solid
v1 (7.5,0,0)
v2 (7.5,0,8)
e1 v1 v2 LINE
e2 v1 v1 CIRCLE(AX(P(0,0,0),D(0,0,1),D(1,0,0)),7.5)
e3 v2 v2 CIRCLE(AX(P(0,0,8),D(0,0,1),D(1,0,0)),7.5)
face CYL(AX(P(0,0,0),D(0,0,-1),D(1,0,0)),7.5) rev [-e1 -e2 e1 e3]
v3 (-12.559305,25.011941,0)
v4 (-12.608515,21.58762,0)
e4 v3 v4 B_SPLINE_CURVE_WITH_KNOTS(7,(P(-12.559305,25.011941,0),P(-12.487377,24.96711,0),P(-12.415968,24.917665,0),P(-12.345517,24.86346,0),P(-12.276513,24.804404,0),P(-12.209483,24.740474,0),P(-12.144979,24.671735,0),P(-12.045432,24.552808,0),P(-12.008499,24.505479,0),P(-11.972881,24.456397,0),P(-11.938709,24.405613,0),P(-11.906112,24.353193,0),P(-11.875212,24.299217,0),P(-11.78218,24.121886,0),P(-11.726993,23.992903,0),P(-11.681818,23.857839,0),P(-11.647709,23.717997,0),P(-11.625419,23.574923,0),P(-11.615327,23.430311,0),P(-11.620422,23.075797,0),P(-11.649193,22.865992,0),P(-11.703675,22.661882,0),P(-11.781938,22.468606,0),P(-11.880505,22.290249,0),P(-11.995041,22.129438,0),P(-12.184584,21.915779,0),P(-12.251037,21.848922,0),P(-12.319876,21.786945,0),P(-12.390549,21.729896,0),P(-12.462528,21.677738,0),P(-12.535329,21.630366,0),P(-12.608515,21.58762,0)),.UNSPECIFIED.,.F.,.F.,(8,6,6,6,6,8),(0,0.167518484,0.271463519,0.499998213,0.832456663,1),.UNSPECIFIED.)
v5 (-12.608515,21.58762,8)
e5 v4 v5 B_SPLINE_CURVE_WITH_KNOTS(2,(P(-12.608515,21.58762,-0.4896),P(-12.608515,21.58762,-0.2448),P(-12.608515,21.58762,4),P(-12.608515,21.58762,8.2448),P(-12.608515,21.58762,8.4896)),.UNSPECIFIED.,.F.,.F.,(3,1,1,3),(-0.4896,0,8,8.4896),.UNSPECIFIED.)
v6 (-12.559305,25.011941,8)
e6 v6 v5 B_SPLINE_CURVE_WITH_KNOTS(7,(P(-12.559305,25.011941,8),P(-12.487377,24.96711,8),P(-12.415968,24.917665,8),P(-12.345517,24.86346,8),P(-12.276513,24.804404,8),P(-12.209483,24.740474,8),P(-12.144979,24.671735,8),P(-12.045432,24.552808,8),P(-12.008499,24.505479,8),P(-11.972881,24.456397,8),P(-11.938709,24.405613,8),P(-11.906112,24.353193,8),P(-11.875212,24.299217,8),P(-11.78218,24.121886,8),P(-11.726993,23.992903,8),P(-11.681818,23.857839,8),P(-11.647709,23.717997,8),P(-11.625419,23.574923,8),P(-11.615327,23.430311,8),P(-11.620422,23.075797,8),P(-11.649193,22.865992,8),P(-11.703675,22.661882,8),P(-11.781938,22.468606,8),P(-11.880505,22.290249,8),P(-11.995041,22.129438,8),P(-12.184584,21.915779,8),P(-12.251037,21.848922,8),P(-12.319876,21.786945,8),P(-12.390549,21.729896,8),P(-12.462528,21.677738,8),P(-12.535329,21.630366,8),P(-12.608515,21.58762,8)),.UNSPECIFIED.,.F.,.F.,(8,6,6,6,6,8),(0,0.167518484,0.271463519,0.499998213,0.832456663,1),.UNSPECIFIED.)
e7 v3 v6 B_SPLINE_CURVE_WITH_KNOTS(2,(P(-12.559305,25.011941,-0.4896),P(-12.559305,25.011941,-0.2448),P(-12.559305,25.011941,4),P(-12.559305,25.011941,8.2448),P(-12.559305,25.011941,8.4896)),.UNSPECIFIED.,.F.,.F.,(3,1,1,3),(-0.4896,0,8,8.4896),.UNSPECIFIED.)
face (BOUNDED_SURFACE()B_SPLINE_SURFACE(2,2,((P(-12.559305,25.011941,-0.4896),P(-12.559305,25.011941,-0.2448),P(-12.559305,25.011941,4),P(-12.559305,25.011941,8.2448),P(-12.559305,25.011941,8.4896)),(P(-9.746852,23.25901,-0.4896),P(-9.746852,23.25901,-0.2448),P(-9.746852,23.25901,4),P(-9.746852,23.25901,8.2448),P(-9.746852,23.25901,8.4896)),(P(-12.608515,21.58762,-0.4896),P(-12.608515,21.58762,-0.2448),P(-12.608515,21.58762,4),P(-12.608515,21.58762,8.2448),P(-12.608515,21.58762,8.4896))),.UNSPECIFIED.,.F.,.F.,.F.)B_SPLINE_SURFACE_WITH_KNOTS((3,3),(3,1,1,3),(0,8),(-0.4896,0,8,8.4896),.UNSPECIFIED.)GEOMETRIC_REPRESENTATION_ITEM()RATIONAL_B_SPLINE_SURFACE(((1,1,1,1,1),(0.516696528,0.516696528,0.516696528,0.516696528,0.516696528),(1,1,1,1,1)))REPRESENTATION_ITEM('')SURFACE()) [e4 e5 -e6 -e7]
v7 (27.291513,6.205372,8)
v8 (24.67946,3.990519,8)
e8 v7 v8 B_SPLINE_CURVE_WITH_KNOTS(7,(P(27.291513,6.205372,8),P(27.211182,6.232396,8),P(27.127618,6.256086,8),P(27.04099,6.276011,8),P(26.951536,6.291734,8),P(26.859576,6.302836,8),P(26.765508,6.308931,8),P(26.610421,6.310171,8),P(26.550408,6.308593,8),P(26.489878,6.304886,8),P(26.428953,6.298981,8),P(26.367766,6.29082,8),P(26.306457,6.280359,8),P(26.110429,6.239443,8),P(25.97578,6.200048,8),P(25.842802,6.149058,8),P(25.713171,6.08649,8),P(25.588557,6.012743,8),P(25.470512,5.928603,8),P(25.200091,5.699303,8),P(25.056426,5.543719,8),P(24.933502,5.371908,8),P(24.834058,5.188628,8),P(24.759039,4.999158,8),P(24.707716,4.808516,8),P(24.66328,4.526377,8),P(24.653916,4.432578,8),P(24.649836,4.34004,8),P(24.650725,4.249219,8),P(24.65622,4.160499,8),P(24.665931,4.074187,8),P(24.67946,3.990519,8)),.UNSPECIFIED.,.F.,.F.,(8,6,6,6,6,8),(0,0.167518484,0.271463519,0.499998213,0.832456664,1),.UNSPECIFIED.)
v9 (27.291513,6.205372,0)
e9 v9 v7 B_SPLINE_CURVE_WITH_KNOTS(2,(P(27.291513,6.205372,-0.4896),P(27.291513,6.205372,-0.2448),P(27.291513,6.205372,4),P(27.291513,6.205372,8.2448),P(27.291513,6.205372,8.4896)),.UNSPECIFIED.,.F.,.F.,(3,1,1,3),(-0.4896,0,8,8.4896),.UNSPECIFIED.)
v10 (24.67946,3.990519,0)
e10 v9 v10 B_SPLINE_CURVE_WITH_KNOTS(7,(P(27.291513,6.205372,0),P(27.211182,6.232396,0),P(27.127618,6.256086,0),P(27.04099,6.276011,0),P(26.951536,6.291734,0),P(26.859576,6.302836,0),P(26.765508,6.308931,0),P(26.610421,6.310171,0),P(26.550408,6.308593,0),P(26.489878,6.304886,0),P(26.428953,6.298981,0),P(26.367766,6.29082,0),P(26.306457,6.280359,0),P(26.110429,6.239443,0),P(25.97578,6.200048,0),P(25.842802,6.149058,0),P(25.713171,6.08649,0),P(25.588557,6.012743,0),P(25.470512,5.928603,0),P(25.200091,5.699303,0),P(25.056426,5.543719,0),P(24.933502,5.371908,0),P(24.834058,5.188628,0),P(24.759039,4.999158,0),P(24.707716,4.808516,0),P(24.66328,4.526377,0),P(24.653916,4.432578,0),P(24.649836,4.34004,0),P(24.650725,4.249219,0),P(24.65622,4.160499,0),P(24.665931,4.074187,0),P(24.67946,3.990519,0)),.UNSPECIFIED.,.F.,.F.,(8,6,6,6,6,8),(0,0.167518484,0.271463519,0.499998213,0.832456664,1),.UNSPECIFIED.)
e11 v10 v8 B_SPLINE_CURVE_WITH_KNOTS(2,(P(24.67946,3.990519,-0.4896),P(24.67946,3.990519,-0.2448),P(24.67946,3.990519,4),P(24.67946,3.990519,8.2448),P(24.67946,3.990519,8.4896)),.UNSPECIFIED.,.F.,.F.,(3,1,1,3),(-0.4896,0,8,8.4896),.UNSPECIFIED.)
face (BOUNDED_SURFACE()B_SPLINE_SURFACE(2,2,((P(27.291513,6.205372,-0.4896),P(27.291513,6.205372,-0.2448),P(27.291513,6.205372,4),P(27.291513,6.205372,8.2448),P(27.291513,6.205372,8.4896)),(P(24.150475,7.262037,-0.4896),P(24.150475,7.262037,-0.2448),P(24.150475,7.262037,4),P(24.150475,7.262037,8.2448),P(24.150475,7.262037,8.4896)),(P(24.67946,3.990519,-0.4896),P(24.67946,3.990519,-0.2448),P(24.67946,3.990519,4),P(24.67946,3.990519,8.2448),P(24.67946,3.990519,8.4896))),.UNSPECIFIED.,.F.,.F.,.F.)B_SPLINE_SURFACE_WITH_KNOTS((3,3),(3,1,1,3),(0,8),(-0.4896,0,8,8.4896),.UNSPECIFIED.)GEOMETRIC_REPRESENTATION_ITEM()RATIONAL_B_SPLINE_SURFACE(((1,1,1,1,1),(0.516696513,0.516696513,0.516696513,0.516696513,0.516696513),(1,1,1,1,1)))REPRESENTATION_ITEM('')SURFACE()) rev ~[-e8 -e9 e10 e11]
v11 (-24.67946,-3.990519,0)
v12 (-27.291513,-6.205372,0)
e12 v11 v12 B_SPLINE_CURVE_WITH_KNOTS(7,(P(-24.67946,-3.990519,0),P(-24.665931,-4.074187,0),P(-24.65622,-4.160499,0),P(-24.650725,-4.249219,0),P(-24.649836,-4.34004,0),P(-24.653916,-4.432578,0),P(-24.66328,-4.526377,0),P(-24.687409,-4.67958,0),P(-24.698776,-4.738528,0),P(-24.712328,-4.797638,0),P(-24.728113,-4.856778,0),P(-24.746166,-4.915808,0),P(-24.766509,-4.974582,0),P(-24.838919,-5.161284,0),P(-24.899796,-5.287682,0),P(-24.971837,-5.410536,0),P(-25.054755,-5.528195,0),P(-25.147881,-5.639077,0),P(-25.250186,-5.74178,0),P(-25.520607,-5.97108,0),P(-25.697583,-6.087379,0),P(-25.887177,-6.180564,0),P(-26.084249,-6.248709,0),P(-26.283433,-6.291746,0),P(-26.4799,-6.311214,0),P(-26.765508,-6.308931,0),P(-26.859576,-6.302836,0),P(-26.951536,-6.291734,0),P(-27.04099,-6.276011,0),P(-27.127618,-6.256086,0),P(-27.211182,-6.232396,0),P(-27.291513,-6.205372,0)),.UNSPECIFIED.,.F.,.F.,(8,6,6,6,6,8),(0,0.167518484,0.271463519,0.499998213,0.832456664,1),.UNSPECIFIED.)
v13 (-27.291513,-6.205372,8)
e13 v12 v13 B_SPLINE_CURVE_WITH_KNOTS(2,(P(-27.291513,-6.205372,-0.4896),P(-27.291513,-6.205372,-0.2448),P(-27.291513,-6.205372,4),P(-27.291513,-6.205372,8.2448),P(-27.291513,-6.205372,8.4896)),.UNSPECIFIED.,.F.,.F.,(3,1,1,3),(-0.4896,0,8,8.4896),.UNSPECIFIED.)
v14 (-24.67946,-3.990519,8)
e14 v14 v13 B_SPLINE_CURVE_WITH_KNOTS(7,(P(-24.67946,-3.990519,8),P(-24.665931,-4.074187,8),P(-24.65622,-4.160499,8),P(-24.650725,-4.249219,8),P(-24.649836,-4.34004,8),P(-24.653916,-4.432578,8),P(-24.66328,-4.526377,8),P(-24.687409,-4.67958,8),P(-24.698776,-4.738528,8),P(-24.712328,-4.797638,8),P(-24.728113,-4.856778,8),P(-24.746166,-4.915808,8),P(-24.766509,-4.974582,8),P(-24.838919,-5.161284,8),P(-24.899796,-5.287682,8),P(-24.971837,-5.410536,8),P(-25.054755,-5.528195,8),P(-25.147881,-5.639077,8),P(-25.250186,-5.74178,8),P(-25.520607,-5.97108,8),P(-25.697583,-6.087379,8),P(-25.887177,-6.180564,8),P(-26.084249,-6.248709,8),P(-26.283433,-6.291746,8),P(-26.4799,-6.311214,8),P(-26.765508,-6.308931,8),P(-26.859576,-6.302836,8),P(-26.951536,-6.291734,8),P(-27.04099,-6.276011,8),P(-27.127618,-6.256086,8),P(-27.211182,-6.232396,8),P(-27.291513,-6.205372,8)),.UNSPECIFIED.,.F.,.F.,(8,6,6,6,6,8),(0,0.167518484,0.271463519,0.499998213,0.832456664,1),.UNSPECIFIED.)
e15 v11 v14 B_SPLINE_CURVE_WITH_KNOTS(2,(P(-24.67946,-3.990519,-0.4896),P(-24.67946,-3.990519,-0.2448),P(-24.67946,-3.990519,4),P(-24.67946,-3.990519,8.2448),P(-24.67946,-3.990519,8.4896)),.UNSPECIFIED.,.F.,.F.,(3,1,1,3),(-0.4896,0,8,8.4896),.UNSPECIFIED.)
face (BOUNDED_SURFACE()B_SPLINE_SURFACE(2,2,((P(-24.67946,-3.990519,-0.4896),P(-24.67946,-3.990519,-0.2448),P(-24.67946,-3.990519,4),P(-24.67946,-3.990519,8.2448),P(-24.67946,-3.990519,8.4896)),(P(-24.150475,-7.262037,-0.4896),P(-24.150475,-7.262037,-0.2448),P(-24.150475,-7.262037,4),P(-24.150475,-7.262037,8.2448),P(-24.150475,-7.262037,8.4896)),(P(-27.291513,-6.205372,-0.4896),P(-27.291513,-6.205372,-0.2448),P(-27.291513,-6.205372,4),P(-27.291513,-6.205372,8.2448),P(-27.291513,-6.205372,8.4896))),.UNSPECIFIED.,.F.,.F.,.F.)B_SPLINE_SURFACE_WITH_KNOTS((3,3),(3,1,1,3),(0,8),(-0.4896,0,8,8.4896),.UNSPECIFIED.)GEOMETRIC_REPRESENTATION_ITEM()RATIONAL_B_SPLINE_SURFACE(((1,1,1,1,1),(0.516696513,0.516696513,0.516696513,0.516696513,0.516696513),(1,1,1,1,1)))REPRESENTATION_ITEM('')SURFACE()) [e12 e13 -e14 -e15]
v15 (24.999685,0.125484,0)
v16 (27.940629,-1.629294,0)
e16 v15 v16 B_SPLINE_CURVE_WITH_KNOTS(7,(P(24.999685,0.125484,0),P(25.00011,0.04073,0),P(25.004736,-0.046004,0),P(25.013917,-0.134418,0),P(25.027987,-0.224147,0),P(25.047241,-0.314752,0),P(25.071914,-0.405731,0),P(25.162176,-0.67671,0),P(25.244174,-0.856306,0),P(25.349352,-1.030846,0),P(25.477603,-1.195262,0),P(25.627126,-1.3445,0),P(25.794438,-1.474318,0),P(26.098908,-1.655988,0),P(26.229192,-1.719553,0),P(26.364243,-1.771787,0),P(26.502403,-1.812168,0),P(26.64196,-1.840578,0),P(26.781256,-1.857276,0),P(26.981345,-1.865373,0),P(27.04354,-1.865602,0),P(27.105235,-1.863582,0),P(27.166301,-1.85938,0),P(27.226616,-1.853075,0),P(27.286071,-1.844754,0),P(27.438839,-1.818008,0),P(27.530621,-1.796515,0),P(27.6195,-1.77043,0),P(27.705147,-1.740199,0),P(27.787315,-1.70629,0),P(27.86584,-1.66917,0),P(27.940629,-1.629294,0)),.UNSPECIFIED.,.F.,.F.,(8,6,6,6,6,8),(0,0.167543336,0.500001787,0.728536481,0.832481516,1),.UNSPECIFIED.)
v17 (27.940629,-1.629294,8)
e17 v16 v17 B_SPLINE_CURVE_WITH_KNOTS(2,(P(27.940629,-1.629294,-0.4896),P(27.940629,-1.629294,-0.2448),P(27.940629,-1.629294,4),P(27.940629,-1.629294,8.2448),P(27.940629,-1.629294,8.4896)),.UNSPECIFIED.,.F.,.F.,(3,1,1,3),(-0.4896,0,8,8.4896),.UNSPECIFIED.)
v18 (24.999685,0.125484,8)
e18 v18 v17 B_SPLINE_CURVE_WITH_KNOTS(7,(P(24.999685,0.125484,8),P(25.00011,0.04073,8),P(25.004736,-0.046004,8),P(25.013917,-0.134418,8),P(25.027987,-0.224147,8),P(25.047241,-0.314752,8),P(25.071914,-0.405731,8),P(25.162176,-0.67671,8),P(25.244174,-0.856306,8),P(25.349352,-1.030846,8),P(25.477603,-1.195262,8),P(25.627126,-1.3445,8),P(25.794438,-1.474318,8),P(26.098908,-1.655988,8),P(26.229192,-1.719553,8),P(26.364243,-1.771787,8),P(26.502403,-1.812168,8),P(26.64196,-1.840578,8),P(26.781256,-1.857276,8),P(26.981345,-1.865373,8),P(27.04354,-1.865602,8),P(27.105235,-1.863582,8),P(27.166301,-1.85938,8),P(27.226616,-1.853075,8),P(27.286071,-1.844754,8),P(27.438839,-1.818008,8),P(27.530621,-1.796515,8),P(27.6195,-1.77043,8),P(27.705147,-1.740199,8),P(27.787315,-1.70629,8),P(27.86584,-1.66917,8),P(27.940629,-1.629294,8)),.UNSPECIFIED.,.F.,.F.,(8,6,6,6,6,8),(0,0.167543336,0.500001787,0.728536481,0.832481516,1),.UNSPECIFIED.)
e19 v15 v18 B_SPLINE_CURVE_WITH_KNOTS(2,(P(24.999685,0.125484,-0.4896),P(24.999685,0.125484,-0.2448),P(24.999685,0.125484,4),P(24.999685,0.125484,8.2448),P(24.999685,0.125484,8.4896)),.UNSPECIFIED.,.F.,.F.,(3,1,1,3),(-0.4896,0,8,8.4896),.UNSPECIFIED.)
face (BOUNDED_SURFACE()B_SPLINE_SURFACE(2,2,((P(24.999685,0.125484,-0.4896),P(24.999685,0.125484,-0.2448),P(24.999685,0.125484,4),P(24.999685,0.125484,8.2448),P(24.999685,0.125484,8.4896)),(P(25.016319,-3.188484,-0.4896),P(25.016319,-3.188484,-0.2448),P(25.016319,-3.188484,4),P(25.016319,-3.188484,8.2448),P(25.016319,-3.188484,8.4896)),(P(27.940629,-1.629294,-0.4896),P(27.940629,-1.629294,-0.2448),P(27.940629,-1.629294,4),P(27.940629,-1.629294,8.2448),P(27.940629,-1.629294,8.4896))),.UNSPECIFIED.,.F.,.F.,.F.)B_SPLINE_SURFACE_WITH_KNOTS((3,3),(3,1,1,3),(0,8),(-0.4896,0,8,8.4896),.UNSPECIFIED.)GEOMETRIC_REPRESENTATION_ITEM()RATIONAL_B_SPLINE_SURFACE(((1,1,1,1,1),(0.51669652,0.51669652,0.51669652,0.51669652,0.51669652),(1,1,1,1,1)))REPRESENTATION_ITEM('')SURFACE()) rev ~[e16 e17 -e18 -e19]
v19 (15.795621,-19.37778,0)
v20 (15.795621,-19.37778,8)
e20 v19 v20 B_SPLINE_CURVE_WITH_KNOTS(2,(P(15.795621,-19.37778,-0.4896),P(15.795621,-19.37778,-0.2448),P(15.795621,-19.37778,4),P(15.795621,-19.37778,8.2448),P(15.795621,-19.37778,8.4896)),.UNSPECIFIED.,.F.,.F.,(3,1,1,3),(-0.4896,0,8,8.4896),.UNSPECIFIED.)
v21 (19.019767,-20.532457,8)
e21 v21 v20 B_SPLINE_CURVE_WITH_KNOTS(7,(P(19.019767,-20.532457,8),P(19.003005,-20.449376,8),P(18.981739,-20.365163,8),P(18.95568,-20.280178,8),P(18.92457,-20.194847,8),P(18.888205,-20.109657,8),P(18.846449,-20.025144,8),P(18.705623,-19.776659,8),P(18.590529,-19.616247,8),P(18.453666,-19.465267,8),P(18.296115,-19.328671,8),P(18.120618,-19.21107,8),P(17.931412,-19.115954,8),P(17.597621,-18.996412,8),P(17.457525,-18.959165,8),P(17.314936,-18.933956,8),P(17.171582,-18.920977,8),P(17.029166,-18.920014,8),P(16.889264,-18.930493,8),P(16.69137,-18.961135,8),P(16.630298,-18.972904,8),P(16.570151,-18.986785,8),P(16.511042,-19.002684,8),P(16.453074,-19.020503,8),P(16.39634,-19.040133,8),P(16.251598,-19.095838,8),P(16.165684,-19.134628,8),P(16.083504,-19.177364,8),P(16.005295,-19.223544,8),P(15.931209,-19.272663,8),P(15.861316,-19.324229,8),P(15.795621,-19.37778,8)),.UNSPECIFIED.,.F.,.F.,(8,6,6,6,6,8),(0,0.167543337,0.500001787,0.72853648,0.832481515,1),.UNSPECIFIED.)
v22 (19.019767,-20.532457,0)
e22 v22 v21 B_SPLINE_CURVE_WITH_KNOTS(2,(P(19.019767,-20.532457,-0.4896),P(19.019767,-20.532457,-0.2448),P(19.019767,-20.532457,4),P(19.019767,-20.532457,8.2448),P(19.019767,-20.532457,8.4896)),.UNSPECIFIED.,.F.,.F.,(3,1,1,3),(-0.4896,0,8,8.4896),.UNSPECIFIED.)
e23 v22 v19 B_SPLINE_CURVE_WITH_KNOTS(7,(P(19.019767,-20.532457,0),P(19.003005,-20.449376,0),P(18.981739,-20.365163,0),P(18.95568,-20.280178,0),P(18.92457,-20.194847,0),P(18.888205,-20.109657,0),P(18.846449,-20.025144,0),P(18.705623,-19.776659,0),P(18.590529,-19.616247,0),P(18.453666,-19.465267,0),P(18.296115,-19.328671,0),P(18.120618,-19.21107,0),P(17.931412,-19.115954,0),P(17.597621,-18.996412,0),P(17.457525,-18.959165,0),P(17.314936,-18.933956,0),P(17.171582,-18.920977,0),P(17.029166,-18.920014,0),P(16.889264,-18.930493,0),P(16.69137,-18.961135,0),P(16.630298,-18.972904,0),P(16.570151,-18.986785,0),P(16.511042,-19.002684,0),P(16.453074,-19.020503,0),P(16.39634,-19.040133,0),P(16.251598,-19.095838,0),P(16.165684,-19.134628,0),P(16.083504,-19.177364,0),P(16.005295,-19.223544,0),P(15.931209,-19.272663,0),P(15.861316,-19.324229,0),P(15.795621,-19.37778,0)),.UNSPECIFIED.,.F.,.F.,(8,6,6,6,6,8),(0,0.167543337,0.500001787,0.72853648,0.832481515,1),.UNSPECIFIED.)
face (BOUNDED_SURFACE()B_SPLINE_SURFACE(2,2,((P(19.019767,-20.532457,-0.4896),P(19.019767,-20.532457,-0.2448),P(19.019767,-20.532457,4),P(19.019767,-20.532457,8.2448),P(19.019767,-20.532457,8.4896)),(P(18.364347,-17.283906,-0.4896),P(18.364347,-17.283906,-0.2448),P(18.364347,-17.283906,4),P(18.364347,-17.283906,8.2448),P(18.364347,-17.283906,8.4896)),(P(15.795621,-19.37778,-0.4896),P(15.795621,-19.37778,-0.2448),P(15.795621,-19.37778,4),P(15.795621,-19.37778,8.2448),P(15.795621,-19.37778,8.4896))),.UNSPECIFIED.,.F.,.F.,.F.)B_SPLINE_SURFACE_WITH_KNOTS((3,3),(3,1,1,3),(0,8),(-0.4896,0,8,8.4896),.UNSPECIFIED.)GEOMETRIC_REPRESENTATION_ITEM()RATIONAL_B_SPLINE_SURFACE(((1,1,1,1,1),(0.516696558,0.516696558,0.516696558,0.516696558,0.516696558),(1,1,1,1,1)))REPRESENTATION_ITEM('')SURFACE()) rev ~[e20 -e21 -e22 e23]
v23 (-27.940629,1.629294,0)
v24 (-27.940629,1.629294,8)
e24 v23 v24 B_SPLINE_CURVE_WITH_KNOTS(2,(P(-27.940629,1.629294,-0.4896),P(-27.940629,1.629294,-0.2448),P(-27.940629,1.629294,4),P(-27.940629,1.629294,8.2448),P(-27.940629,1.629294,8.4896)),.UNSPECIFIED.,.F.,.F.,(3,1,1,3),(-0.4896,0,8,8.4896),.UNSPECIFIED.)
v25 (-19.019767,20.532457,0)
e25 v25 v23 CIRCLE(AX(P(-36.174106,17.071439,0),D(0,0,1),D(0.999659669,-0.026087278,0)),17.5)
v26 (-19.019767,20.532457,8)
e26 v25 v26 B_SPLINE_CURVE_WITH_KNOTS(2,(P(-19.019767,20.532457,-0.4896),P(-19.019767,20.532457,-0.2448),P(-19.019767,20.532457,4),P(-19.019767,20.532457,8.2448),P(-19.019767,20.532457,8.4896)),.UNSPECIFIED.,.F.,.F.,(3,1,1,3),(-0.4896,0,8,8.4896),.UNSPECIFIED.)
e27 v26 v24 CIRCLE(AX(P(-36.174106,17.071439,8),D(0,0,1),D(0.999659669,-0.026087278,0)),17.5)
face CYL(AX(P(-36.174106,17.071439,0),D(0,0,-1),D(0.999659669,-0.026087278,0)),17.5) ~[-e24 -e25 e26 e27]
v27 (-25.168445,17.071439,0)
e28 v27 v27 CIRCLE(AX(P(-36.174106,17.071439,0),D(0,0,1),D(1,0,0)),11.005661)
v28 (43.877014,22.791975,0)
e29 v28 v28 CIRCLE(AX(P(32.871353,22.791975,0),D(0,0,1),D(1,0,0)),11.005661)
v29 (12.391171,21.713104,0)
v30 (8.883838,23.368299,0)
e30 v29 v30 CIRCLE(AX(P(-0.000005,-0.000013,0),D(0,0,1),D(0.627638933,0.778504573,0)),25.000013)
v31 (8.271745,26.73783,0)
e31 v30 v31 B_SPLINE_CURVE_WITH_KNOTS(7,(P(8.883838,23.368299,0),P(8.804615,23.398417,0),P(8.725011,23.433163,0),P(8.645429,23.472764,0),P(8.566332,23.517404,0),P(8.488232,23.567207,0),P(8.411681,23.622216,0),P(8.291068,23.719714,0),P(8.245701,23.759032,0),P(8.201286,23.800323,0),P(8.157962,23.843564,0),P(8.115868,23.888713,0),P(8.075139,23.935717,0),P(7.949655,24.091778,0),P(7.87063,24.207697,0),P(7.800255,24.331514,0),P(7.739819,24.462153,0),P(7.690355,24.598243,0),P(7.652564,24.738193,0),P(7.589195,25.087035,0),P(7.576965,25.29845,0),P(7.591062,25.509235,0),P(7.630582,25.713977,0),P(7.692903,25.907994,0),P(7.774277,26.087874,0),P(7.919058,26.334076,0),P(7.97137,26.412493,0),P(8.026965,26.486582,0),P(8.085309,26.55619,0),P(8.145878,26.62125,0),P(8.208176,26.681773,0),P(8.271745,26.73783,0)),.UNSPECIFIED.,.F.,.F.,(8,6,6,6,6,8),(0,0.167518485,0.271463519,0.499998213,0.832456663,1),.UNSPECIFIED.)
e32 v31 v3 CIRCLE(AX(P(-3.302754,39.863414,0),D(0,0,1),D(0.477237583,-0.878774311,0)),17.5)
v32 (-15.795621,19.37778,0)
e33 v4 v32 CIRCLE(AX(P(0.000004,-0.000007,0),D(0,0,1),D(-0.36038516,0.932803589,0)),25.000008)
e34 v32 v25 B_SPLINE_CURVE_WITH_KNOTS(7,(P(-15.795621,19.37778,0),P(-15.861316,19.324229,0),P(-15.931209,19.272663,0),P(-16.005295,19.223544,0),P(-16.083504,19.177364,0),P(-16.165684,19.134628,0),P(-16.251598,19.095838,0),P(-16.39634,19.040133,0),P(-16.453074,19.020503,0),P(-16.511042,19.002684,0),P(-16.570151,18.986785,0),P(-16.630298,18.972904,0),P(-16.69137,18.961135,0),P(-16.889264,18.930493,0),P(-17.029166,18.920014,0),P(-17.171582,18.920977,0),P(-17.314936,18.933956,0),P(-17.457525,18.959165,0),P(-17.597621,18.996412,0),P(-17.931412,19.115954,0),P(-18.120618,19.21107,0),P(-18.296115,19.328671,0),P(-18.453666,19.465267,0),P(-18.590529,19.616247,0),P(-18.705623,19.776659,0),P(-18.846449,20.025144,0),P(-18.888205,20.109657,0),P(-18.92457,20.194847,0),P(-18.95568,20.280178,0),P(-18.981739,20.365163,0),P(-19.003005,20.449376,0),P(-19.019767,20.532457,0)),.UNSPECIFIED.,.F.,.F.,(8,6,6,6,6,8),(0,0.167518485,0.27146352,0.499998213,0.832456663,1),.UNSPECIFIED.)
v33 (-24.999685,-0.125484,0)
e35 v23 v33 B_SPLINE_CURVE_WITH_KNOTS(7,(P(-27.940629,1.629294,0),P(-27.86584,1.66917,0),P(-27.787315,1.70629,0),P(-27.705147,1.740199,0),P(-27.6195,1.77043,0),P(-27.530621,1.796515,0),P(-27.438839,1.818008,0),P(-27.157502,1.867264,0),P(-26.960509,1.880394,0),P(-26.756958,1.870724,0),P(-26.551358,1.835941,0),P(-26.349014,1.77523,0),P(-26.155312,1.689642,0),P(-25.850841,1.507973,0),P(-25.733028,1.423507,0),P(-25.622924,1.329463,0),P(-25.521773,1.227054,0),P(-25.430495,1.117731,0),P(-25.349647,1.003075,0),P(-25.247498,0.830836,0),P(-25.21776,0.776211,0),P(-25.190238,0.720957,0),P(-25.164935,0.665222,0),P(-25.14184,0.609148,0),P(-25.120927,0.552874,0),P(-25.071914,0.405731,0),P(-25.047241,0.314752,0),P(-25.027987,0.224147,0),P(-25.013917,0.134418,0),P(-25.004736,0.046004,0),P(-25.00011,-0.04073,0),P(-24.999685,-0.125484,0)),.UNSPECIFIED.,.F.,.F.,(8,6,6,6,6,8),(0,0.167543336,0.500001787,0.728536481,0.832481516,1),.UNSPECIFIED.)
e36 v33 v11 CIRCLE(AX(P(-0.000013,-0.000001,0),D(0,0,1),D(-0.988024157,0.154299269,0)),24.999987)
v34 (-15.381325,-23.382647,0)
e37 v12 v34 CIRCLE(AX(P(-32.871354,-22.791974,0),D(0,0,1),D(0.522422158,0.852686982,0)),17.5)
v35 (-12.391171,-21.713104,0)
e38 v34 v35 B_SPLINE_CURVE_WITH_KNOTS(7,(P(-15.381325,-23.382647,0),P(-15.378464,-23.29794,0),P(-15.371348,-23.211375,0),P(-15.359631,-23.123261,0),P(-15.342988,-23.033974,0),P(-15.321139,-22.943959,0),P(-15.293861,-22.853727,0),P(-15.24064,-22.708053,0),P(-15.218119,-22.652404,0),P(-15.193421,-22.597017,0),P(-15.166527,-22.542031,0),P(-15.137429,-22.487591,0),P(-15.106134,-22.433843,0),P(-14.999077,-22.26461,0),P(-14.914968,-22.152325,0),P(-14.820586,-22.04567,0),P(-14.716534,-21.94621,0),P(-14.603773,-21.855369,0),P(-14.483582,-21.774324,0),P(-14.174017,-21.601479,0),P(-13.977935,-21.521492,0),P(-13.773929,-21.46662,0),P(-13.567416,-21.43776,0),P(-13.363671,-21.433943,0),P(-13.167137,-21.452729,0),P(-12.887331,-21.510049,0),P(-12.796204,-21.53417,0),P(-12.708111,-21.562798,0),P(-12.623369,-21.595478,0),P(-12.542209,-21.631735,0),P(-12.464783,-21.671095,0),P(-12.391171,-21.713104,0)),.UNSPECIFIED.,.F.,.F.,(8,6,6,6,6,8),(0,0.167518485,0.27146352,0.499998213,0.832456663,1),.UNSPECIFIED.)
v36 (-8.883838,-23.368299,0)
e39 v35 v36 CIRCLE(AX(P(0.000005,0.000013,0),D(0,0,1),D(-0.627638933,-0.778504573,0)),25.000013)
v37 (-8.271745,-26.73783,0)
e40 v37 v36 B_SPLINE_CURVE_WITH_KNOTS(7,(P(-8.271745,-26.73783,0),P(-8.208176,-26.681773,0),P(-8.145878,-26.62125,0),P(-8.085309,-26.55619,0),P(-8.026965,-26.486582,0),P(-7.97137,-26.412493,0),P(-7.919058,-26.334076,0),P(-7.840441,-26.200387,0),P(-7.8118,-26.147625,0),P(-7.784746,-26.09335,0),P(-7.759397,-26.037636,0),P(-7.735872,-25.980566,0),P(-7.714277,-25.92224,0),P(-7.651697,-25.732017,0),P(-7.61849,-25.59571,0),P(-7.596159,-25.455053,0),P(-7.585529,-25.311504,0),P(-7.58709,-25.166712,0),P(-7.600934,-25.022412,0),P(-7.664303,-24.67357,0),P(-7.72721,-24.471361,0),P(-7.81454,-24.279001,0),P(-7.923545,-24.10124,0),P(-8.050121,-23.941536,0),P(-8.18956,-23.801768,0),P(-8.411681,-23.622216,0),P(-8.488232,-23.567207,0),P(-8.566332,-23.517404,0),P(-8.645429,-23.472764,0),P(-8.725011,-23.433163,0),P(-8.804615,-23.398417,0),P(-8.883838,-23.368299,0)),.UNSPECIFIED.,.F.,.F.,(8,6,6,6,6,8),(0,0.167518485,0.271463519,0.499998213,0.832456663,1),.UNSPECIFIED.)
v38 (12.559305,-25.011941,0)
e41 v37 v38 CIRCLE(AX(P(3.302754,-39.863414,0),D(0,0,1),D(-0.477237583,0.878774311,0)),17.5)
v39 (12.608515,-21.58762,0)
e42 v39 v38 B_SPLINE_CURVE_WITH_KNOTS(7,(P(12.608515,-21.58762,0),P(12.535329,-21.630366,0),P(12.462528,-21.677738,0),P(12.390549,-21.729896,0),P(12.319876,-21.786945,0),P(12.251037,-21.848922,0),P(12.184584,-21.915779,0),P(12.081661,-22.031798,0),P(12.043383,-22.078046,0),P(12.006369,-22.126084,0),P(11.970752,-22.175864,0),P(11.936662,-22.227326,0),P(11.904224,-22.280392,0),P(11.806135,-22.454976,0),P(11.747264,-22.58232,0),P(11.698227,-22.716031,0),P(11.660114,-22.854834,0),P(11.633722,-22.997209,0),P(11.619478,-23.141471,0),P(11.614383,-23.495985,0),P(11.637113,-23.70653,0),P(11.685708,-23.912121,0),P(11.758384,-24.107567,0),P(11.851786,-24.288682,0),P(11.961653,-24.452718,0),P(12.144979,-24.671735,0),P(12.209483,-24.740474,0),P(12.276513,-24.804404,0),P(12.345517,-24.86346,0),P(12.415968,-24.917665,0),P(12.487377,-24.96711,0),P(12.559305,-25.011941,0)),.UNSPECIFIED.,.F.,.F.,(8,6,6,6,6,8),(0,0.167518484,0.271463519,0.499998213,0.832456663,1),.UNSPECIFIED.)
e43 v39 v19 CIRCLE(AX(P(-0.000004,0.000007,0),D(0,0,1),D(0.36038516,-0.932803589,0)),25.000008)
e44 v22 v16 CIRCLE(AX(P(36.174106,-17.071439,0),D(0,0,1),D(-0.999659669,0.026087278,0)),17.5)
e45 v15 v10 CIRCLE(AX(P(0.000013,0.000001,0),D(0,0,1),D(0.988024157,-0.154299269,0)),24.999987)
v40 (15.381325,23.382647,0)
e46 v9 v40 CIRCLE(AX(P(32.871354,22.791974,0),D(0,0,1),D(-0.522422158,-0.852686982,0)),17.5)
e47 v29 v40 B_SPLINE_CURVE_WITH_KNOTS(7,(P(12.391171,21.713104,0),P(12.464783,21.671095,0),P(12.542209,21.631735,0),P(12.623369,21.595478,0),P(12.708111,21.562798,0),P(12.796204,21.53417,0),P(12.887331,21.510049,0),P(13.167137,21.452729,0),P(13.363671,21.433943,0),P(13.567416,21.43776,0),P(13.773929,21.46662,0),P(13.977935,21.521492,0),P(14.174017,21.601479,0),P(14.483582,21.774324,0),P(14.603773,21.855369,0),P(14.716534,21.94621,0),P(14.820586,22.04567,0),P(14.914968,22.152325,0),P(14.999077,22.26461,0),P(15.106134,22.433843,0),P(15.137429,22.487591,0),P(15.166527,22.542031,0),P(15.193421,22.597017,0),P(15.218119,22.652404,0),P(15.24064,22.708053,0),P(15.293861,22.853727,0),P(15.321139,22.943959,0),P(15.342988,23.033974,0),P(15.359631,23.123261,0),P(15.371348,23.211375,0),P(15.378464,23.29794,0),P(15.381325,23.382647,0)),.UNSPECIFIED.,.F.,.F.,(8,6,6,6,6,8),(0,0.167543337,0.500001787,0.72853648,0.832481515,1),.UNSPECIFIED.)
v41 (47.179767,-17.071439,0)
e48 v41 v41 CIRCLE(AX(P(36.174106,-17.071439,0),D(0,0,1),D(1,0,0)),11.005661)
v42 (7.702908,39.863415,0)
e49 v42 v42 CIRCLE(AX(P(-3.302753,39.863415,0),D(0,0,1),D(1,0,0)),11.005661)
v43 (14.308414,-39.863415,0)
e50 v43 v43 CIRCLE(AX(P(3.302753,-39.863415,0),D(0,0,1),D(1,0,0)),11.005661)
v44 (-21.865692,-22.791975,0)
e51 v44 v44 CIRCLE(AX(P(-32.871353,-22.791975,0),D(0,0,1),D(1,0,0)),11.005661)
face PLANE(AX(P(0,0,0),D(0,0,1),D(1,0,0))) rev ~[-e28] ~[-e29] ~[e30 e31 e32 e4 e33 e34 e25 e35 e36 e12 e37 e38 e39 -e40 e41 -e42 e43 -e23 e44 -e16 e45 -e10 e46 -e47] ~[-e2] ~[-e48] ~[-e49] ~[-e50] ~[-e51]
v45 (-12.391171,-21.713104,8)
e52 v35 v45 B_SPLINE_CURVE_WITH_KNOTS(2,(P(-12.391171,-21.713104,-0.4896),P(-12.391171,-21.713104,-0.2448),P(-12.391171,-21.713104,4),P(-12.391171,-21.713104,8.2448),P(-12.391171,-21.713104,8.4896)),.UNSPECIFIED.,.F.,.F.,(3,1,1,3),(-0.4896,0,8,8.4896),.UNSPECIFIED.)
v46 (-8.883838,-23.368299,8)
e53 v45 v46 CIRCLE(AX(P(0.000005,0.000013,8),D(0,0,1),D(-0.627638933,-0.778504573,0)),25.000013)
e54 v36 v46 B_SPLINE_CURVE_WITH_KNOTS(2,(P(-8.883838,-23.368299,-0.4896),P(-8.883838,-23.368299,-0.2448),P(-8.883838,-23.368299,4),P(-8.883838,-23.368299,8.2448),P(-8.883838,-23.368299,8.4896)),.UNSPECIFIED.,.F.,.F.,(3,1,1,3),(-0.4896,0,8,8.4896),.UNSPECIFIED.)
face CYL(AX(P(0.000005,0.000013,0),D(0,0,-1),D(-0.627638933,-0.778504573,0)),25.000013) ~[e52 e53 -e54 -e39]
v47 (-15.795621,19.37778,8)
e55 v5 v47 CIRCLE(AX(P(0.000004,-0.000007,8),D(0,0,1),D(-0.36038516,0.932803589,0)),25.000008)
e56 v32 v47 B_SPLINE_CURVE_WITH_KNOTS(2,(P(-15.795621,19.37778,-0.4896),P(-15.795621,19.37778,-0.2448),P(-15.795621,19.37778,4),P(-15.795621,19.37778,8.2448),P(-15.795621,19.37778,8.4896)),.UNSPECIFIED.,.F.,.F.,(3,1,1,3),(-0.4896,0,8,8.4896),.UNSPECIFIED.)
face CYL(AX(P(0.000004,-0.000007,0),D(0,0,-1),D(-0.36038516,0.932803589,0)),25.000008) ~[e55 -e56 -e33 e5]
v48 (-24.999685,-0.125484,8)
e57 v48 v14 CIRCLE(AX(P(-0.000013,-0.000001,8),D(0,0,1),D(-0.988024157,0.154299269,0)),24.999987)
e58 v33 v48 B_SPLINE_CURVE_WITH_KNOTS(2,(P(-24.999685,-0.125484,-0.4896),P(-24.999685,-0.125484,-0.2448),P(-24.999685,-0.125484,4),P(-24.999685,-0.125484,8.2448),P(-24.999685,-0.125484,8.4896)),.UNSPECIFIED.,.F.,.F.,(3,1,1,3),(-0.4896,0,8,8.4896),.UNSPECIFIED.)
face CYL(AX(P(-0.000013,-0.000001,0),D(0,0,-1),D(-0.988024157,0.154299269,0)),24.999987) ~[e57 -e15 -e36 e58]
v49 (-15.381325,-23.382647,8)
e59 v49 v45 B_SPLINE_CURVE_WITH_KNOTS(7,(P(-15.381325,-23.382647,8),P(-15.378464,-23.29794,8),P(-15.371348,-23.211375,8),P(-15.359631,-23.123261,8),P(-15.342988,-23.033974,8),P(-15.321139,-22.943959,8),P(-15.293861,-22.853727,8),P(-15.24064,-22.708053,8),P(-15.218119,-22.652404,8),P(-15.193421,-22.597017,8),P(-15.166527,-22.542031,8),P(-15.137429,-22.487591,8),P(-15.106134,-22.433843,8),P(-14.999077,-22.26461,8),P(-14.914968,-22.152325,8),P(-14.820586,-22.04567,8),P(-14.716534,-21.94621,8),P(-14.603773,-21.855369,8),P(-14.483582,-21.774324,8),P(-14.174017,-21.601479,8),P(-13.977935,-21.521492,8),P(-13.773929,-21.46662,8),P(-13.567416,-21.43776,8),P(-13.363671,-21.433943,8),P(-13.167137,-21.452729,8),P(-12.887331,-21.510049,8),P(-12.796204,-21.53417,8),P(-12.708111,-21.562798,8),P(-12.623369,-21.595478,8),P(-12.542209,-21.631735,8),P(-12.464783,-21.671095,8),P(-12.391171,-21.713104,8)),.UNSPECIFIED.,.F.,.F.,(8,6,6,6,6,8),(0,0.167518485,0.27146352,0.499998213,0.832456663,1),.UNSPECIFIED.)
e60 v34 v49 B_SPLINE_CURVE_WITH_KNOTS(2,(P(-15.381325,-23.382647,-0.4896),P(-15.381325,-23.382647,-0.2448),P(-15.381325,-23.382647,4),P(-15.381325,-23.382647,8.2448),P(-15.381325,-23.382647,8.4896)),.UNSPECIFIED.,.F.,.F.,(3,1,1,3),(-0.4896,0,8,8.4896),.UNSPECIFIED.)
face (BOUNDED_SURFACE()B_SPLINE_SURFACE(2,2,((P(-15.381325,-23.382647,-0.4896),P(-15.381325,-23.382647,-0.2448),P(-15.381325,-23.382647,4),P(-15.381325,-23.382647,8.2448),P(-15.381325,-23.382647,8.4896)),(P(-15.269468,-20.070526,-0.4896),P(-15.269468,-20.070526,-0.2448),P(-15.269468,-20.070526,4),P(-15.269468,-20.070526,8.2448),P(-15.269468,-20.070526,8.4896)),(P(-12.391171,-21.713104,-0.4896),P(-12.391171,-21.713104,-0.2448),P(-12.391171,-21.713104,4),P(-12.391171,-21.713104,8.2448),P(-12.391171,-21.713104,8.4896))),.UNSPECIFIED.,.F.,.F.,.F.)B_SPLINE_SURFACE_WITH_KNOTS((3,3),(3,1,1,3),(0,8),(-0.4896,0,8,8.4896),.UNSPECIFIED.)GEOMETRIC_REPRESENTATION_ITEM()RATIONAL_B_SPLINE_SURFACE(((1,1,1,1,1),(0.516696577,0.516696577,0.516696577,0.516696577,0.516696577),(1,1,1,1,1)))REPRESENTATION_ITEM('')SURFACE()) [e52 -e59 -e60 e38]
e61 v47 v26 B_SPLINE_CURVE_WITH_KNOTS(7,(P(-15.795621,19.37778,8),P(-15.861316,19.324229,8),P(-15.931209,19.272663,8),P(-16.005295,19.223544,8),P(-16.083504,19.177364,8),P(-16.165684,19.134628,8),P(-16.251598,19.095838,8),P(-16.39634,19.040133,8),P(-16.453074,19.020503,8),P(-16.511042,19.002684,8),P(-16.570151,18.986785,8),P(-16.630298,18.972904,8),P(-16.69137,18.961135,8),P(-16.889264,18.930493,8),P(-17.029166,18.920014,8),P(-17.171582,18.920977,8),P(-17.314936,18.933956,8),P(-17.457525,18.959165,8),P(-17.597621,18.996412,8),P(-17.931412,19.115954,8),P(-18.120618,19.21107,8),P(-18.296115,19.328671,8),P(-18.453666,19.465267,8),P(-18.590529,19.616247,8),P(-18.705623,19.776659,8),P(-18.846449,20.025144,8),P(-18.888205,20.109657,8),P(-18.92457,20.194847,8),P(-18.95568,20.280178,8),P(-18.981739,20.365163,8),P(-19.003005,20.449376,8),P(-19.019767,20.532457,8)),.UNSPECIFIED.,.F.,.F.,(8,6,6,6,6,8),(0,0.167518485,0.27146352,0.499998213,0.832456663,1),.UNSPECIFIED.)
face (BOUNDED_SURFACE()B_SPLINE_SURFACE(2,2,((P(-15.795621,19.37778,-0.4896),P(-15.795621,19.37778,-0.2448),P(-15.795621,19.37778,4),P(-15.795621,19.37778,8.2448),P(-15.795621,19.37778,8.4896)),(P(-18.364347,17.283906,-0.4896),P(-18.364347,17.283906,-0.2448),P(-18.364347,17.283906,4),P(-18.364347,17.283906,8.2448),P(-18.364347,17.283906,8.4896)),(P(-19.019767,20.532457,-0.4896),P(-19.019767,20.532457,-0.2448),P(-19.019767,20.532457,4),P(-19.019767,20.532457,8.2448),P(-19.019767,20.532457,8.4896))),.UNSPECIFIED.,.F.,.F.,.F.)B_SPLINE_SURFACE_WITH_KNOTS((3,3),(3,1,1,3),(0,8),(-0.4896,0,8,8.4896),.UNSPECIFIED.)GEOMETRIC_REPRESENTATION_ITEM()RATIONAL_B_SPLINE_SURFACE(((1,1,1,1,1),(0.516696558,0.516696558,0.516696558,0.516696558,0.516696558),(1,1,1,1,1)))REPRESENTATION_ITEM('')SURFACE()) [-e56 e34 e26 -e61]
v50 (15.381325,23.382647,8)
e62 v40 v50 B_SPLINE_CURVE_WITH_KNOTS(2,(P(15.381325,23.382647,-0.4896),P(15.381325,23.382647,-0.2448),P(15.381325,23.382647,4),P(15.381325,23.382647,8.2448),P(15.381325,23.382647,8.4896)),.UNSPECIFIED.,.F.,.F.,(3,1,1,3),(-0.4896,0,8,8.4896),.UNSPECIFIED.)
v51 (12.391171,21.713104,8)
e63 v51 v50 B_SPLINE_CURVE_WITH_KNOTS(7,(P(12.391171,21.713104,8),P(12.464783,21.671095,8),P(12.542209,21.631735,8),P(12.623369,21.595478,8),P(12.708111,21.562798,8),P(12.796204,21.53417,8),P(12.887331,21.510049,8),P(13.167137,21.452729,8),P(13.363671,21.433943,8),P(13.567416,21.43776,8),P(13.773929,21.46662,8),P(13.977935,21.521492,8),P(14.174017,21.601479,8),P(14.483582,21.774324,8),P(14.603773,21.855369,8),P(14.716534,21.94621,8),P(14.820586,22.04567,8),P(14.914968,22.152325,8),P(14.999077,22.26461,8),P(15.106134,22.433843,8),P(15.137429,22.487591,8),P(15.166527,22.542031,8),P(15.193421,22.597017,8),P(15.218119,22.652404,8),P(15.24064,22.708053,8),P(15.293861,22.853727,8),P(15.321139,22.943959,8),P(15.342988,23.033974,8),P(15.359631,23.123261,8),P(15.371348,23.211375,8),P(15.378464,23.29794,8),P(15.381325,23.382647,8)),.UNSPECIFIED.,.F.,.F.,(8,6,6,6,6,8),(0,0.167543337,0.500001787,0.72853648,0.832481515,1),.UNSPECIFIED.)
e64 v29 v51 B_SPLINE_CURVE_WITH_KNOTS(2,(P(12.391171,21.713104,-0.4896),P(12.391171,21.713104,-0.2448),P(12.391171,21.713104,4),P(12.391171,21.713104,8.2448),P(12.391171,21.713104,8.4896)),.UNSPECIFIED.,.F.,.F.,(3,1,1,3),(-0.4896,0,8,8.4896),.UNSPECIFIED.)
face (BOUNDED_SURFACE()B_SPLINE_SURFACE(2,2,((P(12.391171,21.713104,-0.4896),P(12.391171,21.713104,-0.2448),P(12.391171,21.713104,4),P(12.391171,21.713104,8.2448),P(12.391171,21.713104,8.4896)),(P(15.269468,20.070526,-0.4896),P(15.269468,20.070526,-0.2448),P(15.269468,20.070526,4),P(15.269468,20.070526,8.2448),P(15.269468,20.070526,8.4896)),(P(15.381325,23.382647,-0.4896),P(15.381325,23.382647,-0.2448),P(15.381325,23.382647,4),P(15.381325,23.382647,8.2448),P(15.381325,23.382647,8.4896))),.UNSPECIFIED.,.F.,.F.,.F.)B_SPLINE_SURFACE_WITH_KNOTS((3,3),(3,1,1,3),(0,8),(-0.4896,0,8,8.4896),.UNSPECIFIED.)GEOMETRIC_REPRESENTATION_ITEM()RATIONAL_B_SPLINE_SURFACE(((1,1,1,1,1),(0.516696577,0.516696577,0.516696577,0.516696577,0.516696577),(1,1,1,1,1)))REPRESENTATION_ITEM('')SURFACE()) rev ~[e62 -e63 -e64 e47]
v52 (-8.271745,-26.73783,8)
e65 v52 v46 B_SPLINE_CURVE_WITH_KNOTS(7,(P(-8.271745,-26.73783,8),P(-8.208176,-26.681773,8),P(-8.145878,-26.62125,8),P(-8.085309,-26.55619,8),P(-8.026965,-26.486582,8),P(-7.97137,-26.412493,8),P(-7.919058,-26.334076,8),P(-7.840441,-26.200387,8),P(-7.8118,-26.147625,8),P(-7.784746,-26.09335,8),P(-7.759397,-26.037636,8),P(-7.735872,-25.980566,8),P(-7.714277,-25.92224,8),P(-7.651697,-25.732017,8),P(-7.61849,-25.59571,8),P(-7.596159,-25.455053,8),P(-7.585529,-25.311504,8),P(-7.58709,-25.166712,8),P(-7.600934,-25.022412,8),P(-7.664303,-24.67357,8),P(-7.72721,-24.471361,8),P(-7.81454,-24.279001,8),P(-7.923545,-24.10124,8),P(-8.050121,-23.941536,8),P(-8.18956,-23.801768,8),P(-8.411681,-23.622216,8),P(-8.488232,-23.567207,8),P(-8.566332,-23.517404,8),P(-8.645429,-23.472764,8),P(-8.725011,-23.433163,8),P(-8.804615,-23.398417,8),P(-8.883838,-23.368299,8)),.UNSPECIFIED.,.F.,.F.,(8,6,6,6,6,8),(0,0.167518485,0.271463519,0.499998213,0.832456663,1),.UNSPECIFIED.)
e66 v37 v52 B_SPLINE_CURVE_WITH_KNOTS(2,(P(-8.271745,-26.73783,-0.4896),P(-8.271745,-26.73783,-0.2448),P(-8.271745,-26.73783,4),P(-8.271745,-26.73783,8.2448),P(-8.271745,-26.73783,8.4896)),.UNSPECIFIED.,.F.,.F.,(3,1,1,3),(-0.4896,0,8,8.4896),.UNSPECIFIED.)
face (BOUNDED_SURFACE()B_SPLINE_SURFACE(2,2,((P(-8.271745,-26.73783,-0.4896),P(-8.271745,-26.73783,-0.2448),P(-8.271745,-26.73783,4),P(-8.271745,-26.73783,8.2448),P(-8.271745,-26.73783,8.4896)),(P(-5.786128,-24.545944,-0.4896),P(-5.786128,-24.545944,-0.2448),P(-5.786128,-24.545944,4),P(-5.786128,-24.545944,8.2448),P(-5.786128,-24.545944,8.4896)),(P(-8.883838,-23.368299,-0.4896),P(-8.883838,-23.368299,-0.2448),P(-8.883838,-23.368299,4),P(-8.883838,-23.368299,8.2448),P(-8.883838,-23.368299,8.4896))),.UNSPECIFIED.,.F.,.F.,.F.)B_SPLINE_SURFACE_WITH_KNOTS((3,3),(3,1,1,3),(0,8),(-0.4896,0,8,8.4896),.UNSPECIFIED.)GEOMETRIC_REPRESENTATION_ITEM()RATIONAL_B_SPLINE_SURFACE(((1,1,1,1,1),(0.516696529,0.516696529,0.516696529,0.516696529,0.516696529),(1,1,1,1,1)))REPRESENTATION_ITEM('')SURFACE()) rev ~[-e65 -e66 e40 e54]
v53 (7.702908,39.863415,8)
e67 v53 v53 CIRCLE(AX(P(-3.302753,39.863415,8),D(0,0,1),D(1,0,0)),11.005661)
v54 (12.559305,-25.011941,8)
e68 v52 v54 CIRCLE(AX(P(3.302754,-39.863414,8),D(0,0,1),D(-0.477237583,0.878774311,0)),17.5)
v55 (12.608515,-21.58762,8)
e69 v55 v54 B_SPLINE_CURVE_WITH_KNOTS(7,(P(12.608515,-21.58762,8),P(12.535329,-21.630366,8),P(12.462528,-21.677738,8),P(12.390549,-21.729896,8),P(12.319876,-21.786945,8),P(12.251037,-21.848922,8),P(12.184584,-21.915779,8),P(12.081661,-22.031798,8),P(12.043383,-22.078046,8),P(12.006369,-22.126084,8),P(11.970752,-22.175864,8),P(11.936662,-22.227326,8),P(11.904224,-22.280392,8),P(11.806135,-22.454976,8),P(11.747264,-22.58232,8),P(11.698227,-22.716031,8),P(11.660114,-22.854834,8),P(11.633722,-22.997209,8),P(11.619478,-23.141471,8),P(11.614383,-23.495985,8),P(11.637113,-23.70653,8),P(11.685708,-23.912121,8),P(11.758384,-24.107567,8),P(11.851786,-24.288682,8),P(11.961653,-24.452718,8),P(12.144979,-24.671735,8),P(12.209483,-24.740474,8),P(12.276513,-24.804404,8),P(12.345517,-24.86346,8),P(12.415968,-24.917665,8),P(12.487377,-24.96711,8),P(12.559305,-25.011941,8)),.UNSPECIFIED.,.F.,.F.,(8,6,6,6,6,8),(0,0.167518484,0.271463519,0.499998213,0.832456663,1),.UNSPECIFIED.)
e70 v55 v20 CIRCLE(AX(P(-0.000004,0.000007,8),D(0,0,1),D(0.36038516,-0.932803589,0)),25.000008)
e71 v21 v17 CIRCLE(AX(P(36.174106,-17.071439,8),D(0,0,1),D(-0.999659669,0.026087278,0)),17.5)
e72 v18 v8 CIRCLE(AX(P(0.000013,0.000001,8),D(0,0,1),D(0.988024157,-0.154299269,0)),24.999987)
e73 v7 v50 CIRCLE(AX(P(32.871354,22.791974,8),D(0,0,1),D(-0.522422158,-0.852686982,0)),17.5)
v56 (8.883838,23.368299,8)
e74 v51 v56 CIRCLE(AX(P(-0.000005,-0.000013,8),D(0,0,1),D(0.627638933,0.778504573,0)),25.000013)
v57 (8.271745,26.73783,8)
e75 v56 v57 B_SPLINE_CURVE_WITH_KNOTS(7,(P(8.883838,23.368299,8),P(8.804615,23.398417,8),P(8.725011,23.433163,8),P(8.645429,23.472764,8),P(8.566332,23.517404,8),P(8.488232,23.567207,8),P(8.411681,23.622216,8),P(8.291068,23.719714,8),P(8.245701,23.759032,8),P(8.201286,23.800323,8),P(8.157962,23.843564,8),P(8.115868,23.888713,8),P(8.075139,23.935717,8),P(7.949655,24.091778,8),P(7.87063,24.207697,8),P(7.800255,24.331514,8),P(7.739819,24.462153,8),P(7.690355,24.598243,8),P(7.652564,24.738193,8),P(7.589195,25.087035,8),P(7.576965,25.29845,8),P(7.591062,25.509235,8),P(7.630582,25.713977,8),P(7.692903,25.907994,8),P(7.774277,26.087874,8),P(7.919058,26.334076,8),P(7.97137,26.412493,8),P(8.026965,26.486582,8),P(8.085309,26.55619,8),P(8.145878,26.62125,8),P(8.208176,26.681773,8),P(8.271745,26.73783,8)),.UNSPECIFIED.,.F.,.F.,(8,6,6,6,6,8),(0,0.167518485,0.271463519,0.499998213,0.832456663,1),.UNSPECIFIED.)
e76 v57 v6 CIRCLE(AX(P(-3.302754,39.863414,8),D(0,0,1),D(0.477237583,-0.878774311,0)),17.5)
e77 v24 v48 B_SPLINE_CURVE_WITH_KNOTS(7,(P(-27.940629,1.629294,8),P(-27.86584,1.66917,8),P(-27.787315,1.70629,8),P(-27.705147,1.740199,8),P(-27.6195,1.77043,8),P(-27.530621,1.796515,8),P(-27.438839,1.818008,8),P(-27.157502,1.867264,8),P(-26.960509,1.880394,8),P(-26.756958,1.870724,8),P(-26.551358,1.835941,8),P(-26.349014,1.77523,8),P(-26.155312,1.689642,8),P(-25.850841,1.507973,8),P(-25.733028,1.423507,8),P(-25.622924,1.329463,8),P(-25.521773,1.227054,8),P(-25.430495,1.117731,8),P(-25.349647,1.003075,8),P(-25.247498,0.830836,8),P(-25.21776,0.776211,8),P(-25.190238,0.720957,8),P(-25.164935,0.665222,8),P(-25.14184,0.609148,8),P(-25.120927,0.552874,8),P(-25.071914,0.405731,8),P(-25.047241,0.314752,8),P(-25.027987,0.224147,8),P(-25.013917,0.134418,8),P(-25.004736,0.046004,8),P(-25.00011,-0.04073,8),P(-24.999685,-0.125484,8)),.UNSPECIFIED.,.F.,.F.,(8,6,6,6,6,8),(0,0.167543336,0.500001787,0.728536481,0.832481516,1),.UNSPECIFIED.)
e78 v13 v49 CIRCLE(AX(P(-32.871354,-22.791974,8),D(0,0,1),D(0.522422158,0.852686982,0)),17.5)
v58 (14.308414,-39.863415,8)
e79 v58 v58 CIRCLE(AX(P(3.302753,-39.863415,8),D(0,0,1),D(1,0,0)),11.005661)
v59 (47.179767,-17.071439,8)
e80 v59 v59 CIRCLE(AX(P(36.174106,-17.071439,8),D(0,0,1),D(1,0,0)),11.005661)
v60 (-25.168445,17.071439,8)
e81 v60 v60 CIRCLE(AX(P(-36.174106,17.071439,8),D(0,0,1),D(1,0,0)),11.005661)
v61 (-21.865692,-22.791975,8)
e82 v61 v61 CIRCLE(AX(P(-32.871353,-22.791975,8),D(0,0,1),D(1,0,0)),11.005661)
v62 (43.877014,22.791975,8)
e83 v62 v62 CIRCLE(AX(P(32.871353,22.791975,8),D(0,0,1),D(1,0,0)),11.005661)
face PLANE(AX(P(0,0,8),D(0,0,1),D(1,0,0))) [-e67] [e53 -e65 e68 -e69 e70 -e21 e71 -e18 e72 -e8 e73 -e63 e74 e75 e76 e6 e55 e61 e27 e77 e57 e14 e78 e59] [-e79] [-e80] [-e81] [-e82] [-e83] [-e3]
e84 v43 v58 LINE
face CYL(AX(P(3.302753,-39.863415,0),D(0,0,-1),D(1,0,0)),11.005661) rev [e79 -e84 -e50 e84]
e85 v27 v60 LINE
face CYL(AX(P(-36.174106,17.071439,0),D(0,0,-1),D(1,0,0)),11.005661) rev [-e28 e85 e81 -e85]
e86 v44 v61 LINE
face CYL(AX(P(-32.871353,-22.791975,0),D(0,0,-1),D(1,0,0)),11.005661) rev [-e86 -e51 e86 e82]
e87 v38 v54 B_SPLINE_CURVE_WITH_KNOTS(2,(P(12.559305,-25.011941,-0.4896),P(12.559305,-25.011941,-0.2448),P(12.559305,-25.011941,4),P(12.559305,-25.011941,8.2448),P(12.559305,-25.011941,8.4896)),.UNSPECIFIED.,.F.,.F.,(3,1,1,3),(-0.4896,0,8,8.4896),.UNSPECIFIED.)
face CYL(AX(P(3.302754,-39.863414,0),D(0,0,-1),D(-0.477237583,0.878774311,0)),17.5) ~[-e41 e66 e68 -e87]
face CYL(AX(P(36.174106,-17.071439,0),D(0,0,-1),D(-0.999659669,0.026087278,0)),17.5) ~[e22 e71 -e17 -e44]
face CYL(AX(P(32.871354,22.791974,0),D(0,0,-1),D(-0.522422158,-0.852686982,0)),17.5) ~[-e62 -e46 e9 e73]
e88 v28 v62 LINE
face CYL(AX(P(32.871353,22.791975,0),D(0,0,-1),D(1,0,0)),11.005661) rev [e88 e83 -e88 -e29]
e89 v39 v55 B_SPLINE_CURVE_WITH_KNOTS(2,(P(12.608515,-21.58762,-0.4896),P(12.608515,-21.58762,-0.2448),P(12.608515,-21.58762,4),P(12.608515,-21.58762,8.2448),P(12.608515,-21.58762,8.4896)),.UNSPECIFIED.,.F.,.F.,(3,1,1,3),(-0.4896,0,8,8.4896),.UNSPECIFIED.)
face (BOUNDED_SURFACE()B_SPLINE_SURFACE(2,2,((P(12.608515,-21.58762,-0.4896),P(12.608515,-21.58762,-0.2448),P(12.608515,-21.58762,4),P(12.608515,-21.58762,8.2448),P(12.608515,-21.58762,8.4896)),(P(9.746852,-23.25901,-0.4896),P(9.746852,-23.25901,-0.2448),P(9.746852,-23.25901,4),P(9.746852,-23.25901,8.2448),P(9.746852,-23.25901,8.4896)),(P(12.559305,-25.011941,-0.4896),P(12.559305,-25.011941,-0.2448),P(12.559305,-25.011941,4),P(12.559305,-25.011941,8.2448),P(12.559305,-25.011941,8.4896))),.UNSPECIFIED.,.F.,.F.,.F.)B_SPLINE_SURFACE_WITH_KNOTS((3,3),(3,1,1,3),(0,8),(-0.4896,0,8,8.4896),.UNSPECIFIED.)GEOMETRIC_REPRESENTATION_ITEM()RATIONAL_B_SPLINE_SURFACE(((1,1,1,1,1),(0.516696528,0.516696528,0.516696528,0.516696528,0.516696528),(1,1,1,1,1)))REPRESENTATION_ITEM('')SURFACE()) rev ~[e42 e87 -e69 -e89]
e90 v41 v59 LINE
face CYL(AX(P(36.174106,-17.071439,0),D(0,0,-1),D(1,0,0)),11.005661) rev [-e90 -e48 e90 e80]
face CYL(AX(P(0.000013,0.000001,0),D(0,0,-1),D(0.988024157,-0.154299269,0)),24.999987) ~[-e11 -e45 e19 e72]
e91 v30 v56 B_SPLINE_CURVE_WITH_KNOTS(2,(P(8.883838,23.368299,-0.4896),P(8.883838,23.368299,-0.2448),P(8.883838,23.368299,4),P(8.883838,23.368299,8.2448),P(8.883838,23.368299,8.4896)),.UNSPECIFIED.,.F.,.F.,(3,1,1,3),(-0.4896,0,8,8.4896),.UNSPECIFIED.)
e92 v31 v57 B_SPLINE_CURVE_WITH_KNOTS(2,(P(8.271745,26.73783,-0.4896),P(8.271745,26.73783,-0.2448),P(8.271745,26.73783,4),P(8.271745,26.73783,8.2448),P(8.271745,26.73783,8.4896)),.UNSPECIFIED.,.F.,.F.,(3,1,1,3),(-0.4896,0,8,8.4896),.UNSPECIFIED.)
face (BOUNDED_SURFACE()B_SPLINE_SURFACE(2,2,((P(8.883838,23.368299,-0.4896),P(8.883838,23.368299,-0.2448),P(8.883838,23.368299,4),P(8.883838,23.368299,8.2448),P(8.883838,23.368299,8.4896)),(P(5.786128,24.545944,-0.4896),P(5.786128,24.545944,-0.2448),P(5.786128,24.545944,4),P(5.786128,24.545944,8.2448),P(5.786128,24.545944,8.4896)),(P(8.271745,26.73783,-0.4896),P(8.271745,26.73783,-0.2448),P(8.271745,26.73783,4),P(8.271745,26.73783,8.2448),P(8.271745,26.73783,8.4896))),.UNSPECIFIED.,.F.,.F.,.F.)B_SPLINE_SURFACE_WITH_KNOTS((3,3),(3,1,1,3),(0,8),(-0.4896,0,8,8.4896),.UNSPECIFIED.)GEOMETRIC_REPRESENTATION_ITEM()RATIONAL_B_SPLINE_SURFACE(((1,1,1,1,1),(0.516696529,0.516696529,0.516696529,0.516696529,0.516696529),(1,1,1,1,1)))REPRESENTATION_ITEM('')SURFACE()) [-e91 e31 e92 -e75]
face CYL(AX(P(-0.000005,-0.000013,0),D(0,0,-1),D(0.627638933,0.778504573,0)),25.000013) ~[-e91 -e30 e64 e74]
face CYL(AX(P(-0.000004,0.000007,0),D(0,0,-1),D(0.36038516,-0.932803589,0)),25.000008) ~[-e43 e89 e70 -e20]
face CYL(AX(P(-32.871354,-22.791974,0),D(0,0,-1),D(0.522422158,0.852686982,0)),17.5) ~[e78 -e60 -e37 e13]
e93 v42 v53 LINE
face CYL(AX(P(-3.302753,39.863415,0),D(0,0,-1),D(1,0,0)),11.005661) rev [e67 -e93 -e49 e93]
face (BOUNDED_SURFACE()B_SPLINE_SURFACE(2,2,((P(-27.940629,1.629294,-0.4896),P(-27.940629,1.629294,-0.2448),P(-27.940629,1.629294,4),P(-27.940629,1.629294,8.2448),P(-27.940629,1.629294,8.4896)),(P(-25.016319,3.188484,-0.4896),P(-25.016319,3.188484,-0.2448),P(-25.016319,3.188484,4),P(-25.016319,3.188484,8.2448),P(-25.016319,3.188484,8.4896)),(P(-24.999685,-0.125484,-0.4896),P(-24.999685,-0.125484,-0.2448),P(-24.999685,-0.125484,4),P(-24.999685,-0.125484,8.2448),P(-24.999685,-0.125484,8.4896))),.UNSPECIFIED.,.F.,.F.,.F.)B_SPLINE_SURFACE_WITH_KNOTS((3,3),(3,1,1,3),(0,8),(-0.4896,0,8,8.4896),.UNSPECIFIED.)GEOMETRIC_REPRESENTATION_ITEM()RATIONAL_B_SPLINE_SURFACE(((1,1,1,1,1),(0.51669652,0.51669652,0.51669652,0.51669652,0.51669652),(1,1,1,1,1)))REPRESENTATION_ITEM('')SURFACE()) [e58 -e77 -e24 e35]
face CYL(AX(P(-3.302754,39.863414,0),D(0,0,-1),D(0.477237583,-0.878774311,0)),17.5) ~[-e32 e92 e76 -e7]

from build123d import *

# Parameters (mm, degrees)
F0_R     = 11.005661
F0_R_2   = 7.5
F1_DEPTH = 8
F2_R     = 2


with BuildPart() as f1:
    # F0 (on Top) → F1 (new body)
    with BuildSketch(Plane.XY):
        with BuildLine():
            ThreePointArc((15.690977, 19.462612), (10.66965, 22.608816), (5.048904, 24.484864))
            ThreePointArc((5.048904, 24.484864), (-4.747707, 57.303658), (-9.009628, 23.32009))
            ThreePointArc((-9.009628, 23.32009), (-14.244984, 20.544596), (-18.680062, 16.614912))
            ThreePointArc((-18.680062, 16.614912), (-52.000278, 24.540194), (-24.700604, 3.857479))
            ThreePointArc((-24.700604, 3.857479), (-24.914634, -2.064221), (-23.728966, -7.869952))
            ThreePointArc((-23.728966, -7.869952), (-47.25257, -32.763464), (-15.690977, -19.462612))
            ThreePointArc((-15.690977, -19.462612), (-10.66965, -22.608816), (-5.048904, -24.484864))
            ThreePointArc((-5.048904, -24.484864), (4.747707, -57.303658), (9.009628, -23.32009))
            ThreePointArc((9.009628, -23.32009), (14.244984, -20.544596), (18.680062, -16.614912))
            ThreePointArc((18.680062, -16.614912), (52.000278, -24.540194), (24.700604, -3.857479))
            ThreePointArc((24.700604, -3.857479), (24.914634, 2.064221), (23.728966, 7.869952))
            ThreePointArc((23.728966, 7.869952), (47.25257, 32.763464), (15.690977, 19.462612))
        make_face()
        with Locations((-32.871353, -22.791975)):
            Circle(F0_R, mode=Mode.SUBTRACT)
        with Locations((3.302753, -39.863415)):
            Circle(F0_R, mode=Mode.SUBTRACT)
        with Locations((36.174106, -17.071439)):
            Circle(F0_R, mode=Mode.SUBTRACT)
        with Locations((-36.174106, 17.071439)):
            Circle(F0_R, mode=Mode.SUBTRACT)
        with Locations((-3.302753, 39.863415)):
            Circle(F0_R, mode=Mode.SUBTRACT)
        Circle(F0_R_2, mode=Mode.SUBTRACT)
        with Locations((32.871353, 22.791975)):
            Circle(F0_R, mode=Mode.SUBTRACT)
    extrude(amount=F1_DEPTH)

    # F2
    f2_edges = [f1.edges().sort_by_distance(p)[0] for p in [
        (15.690977, 19.462612, 4),
        (5.048904, 24.484864, 4),
        (-9.009628, 23.32009, 4),
        (-18.680062, 16.614912, 4),
        (24.700604, -3.857479, 4),
        (23.728966, 7.869952, 4),
        (18.680062, -16.614912, 4),
        (9.009628, -23.32009, 4),
        (-5.048904, -24.484864, 4),
        (-15.690977, -19.462612, 4),
        (-23.728966, -7.869952, 4),
        (-24.700604, 3.857479, 4),
    ]]
    fillet(f2_edges, radius=F2_R)


solid = f1.part
